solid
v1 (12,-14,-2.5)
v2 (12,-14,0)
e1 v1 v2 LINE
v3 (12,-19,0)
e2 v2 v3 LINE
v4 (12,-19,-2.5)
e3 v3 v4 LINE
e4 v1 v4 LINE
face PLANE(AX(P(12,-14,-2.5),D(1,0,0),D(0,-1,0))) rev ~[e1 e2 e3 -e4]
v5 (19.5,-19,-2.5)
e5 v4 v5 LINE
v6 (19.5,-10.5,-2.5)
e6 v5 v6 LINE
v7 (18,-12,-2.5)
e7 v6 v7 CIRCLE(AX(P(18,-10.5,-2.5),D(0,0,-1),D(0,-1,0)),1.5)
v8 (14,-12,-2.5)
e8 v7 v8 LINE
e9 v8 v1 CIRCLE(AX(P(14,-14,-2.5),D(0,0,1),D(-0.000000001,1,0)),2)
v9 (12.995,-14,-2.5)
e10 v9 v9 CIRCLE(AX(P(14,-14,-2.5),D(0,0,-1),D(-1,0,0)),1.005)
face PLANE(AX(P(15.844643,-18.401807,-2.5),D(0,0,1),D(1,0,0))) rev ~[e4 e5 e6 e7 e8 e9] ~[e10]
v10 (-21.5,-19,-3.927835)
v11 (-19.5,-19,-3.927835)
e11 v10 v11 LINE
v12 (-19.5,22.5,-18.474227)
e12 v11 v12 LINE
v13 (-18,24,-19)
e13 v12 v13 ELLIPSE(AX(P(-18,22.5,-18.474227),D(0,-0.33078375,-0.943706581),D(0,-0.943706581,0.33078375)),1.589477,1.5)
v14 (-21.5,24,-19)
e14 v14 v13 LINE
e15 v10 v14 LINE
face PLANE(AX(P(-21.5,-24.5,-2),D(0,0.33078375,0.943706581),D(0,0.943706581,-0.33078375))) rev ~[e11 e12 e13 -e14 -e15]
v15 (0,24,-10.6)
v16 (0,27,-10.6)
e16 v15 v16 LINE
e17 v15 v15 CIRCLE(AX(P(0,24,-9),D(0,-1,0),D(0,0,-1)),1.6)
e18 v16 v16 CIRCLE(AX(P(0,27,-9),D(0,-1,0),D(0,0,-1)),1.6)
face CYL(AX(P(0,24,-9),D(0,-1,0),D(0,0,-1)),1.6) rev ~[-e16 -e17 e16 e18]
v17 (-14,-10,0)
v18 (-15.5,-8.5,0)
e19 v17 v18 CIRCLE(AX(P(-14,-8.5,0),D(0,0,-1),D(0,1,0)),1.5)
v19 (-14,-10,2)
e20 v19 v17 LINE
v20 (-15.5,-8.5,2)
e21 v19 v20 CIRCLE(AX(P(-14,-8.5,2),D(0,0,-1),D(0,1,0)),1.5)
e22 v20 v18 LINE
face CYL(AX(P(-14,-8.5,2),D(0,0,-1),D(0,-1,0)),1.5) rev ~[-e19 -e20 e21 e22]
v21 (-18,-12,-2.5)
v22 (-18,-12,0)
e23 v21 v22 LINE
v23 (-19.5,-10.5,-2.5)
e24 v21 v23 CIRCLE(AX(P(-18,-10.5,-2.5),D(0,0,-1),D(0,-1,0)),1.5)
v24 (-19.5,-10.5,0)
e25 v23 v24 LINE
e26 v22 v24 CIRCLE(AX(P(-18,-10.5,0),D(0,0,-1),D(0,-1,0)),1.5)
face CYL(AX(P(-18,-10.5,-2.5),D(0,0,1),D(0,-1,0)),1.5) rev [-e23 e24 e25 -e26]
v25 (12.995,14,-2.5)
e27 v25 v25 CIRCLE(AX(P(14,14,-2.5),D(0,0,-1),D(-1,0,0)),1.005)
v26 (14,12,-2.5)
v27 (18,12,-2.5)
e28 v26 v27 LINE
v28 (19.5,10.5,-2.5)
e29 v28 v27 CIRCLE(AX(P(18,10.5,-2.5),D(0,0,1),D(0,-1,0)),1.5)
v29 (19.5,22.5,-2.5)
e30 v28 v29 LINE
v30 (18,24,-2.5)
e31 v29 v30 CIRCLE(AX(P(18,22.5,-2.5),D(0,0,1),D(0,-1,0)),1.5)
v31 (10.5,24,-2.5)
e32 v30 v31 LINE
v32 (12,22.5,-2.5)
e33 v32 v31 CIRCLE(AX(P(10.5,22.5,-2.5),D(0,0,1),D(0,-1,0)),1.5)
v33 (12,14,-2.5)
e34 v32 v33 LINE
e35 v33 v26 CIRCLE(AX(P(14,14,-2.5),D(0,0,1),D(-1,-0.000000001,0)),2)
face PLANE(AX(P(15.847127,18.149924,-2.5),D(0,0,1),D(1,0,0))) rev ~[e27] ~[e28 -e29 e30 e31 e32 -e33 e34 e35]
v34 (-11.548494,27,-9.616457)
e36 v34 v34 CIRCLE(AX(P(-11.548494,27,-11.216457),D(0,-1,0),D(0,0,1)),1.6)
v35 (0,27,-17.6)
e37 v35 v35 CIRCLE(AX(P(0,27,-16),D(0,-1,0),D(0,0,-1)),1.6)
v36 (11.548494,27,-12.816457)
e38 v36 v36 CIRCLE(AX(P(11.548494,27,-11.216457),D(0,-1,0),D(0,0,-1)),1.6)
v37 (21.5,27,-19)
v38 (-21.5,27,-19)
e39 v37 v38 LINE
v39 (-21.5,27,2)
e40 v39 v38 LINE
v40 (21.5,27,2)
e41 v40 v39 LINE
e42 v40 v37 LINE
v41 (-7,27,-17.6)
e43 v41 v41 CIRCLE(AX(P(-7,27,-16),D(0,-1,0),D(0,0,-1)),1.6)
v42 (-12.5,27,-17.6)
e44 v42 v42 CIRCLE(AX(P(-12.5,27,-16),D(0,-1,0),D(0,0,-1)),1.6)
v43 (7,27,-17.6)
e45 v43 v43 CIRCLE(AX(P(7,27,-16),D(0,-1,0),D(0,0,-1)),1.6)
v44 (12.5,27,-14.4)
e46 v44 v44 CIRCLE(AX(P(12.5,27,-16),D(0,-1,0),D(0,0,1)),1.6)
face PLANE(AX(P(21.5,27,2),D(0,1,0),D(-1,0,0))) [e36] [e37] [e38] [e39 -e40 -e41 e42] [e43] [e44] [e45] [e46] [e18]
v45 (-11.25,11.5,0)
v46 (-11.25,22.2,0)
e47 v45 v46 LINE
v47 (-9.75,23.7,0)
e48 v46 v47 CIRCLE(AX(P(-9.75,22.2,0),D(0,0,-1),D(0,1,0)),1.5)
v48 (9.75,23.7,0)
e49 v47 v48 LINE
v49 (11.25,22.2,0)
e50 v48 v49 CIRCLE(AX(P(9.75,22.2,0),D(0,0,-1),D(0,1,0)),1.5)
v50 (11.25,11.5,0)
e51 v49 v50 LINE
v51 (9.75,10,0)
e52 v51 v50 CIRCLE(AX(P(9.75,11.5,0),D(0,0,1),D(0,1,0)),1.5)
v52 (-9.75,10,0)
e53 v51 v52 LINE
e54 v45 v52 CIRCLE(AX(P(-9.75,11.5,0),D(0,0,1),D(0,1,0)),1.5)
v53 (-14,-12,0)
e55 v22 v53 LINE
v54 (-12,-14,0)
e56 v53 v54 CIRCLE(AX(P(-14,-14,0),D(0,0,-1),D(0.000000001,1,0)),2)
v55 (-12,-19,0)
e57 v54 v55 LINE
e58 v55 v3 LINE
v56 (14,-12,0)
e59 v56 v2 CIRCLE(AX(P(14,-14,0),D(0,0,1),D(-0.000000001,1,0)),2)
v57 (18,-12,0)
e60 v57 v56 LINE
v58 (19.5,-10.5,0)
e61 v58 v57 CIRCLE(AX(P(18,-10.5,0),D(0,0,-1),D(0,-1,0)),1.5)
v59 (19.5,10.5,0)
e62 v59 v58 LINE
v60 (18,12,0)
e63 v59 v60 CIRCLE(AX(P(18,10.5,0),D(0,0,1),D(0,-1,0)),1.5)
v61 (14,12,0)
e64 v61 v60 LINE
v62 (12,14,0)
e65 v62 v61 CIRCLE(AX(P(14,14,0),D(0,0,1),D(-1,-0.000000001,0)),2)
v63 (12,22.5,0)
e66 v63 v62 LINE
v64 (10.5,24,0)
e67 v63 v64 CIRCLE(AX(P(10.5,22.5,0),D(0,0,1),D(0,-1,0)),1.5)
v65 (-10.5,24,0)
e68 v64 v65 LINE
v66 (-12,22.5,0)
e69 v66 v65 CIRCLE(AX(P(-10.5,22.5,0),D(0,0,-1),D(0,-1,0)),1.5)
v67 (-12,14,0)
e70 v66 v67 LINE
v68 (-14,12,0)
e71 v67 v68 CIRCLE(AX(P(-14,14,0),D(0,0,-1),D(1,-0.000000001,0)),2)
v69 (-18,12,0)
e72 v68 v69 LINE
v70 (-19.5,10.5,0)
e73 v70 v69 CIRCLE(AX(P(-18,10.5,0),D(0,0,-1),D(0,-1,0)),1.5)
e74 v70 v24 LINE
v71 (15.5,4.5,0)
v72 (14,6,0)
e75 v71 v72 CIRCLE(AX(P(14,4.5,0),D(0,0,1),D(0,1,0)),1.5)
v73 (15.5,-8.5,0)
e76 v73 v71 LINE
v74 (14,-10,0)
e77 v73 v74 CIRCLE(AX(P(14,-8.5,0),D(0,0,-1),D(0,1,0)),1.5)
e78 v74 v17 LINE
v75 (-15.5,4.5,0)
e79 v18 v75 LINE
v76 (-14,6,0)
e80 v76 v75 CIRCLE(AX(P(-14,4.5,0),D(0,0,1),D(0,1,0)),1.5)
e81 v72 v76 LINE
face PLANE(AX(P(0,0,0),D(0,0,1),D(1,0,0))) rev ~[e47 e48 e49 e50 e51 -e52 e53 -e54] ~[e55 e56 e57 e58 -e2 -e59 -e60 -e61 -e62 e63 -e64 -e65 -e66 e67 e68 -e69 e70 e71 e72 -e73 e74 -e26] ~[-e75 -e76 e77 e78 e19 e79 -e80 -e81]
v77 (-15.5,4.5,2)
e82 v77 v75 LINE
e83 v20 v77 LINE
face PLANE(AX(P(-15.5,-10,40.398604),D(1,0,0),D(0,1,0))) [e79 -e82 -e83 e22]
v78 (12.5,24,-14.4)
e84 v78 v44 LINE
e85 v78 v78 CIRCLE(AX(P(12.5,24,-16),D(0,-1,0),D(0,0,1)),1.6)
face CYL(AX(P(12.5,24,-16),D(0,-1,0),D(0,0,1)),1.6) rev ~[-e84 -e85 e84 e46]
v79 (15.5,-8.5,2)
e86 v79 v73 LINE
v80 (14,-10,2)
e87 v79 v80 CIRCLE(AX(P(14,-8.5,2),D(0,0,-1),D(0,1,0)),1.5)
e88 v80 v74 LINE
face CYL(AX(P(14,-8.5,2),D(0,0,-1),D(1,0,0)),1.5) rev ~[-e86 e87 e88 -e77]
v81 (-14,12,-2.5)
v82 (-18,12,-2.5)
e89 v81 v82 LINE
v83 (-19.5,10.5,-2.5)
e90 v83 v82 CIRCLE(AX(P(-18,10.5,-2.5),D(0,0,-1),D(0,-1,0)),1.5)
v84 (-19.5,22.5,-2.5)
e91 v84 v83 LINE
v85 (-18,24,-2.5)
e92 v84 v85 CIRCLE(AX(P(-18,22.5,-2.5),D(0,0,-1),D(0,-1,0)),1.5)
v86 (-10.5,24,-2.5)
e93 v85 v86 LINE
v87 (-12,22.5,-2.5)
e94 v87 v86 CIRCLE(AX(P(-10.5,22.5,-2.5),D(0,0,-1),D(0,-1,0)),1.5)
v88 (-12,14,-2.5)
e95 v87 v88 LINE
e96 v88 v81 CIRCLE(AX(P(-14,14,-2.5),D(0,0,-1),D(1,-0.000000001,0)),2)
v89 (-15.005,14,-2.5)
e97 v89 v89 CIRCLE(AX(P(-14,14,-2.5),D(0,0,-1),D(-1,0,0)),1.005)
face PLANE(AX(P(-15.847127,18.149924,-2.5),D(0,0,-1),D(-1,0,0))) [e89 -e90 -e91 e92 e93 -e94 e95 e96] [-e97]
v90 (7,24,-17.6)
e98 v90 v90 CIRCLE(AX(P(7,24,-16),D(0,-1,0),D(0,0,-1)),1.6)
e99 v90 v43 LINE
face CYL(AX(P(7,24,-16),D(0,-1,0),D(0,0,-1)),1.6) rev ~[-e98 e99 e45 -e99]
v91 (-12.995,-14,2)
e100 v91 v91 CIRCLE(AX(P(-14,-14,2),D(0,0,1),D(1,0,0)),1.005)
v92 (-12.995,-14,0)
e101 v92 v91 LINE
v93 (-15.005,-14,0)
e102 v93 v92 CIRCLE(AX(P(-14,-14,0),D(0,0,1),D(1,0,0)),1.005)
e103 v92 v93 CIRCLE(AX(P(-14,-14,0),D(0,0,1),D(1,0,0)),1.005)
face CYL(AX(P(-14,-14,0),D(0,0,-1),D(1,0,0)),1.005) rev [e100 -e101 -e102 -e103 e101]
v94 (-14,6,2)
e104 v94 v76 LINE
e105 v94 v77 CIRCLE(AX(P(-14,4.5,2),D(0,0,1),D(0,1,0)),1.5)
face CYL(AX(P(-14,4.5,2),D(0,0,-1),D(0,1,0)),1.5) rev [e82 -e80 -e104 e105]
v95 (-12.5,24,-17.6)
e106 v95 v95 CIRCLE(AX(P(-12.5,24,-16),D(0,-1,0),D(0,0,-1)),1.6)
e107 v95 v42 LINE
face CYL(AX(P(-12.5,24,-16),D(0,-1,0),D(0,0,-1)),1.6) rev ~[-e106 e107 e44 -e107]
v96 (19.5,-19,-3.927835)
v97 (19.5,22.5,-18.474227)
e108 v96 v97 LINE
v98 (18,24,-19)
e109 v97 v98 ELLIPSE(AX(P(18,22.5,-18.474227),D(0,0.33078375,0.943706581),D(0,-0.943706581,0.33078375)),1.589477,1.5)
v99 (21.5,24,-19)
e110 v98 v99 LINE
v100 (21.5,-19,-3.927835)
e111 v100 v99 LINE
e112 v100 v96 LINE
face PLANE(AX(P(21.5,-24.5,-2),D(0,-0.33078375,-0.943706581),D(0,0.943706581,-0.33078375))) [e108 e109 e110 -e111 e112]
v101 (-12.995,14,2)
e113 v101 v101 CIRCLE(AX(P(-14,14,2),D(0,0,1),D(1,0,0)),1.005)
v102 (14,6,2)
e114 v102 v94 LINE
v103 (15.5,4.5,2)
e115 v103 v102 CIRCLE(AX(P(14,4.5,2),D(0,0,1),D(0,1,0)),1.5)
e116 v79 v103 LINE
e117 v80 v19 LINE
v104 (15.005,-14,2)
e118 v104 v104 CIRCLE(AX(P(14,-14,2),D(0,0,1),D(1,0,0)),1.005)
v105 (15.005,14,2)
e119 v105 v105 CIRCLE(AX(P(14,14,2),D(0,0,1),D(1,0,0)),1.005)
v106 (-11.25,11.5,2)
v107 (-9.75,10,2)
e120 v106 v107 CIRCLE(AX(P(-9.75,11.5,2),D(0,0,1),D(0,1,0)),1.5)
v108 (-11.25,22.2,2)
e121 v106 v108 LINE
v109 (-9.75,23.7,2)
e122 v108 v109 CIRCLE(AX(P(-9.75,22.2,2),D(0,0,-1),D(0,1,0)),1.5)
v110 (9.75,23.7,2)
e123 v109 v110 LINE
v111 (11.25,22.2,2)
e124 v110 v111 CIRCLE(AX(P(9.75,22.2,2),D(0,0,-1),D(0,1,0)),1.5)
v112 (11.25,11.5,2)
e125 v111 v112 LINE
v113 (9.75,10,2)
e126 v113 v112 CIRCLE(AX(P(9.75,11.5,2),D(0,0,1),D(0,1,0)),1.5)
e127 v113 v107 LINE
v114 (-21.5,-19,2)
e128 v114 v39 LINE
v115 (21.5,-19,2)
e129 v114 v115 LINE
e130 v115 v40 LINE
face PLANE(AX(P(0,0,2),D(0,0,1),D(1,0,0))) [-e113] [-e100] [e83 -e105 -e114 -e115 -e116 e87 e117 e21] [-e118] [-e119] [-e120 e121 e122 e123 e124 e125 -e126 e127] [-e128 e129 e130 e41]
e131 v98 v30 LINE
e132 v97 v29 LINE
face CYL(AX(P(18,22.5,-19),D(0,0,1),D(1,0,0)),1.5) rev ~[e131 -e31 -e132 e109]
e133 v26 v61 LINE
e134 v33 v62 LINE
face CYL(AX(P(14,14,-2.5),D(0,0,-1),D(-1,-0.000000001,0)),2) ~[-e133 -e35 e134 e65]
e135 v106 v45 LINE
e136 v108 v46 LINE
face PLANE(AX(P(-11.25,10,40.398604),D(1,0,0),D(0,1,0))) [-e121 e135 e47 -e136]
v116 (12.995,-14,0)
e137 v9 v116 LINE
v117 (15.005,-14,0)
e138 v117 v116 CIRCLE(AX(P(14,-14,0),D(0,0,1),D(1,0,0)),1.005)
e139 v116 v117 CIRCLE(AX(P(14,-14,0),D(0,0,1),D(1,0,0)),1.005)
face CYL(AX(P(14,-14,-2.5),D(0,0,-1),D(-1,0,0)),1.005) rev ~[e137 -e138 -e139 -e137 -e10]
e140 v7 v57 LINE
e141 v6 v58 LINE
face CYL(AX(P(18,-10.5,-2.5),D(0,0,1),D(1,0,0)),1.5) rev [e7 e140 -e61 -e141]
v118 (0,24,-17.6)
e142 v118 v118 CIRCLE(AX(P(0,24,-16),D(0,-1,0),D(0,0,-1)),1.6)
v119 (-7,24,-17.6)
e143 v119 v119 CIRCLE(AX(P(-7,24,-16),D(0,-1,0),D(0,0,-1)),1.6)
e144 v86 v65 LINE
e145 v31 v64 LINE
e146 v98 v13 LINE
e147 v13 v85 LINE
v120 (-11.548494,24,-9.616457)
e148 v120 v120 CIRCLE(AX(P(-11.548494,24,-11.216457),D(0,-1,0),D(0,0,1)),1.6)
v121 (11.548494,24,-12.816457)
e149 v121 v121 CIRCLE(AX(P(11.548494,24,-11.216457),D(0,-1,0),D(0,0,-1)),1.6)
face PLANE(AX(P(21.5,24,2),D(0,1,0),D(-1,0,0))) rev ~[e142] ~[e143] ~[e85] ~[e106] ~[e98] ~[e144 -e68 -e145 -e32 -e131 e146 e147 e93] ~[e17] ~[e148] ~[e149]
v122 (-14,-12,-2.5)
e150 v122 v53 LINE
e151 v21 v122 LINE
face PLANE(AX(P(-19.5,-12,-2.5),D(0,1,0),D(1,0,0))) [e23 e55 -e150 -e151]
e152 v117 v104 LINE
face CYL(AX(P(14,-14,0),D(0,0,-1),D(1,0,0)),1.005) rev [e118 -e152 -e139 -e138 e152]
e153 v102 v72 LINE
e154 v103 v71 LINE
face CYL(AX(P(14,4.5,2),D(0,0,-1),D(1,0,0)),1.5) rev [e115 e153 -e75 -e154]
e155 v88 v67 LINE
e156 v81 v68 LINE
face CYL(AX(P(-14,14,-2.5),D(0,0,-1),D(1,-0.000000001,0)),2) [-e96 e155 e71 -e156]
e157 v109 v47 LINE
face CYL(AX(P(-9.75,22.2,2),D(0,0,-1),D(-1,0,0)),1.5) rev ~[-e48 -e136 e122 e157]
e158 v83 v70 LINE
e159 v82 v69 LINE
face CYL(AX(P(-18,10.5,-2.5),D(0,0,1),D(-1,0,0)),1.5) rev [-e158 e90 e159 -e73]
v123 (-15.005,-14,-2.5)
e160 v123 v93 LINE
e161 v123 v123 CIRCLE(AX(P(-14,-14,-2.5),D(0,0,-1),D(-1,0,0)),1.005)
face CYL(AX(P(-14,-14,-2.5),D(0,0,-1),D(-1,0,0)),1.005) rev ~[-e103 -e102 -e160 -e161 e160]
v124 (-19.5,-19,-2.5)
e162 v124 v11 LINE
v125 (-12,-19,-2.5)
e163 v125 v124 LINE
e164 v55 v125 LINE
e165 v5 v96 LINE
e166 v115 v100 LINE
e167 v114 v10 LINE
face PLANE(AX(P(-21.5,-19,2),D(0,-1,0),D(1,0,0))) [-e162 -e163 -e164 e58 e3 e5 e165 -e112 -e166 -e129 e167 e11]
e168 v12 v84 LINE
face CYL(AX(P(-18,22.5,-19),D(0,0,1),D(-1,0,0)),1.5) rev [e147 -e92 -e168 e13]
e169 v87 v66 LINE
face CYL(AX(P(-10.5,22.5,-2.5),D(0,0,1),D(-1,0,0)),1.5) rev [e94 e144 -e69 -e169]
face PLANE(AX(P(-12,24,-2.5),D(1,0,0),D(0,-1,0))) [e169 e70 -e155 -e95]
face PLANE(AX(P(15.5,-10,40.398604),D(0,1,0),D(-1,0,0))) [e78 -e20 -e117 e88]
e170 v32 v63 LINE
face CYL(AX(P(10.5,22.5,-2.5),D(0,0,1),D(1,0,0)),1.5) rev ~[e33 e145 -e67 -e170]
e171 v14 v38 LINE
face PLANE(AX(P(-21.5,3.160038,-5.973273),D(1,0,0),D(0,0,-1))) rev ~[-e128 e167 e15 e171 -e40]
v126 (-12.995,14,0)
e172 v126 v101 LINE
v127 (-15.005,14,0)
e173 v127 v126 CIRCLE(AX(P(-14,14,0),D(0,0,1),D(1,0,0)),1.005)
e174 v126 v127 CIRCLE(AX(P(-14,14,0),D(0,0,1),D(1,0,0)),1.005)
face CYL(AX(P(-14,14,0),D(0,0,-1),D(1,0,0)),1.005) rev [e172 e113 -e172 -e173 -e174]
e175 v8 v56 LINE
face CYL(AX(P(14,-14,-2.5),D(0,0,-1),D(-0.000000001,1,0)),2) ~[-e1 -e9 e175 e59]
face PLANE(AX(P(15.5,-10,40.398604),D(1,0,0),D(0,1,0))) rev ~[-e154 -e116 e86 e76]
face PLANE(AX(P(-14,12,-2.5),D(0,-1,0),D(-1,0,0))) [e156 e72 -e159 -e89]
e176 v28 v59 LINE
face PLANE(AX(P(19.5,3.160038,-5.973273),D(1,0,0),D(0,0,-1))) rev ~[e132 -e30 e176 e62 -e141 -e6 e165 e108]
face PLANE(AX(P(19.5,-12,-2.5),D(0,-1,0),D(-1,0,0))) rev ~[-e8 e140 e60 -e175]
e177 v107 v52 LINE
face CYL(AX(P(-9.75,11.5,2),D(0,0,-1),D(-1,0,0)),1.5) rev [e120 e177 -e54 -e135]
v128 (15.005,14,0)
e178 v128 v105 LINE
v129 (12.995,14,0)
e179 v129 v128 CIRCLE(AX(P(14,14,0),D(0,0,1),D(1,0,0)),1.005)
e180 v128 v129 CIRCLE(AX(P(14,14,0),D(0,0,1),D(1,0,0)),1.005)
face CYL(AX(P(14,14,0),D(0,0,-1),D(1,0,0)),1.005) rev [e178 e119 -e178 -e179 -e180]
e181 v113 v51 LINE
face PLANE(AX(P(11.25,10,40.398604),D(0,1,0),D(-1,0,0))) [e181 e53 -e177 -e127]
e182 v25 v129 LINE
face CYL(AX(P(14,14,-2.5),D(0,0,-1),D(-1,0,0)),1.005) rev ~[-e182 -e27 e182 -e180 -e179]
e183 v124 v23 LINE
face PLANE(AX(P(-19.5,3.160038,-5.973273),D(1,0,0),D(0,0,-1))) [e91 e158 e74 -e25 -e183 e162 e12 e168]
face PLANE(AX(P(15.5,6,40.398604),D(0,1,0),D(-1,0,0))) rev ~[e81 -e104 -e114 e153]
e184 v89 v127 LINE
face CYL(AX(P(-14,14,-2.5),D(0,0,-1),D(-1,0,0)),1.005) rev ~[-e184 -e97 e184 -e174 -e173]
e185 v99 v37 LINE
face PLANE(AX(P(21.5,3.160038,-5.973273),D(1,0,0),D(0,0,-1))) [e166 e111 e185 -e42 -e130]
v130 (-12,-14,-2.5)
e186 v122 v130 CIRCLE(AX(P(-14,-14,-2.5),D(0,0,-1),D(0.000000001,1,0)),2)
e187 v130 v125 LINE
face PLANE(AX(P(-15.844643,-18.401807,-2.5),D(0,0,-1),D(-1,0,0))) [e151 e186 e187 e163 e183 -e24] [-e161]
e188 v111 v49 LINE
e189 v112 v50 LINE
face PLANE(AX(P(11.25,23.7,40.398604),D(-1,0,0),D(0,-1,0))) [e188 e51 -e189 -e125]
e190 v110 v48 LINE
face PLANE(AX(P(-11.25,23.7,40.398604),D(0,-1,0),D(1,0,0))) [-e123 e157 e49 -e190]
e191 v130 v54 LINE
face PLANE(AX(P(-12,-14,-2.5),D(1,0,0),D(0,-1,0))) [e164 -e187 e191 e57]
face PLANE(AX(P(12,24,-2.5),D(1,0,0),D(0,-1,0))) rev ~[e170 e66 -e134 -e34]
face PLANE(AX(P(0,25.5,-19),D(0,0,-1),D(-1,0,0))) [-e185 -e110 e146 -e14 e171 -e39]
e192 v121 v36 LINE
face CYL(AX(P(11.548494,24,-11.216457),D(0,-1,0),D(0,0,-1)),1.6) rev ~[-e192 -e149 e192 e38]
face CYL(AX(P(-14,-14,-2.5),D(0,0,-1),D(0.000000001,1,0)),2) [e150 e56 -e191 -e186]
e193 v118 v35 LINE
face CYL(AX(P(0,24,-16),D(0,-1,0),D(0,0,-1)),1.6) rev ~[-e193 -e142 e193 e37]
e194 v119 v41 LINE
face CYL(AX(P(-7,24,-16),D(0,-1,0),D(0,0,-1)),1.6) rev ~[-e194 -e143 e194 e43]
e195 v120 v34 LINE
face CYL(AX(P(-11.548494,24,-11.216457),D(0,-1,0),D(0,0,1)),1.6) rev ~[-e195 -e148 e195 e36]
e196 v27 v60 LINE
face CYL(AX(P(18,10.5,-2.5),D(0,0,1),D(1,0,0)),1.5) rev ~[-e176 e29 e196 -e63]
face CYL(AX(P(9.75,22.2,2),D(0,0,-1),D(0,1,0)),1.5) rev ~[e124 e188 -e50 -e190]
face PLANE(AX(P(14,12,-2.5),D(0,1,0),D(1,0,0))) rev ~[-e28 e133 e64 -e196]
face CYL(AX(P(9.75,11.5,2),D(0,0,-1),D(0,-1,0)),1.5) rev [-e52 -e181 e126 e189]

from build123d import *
from build123d.topology import SkipClean

# Parameters (mm, degrees)
SKETCH_1_W               = 43
SKETCH_1_H               = 49
SKETCH_1_R               = 1.005
EXTRUDE_1_DEPTH          = 2
EXTRUDE_2_DEPTH          = 19
EXTRUDE_2_DEPTH_BACK     = 2
SKETCH_2_W               = 43
SKETCH_2_H               = 3
EXTRUDE_START            = -21.5
EXTRUDE_3_DEPTH          = 2
EXTRUDE_START_2          = 21.5
EXTRUDE_5_DEPTH          = 2
SKETCH_5_R               = 1.6
CUT_EXTRUDE_1_DEPTH      = 57.351574956
CUT_EXTRUDE_3_DEPTH      = 40.398604036
CUT_EXTRUDE_3_DEPTH_BACK = 40.398604036
SKETCH_8_W               = 31
SKETCH_8_H               = 16
EXTRUDE_START_3          = 2.5
SKETCH_12_R              = 1.005
EXTRUDE_6_DEPTH          = 2.5
SKETCH_13_W              = 43
SKETCH_13_H              = 5.5
CUT_EXTRUDE_4_DEPTH      = 41.401113846
FILLET_1_R               = 1.5


with BuildPart() as part:
    # 草图1 → 凸台-拉伸1 (new body)
    with BuildSketch(Plane.XY):
        Rectangle(SKETCH_1_W, SKETCH_1_H)
        with Locations((-14, 14)):
            Circle(SKETCH_1_R, mode=Mode.SUBTRACT)
        with Locations((14, 14)):
            Circle(SKETCH_1_R, mode=Mode.SUBTRACT)
        with Locations((14, -14)):
            Circle(SKETCH_1_R, mode=Mode.SUBTRACT)
        with Locations((-14, -14)):
            Circle(SKETCH_1_R, mode=Mode.SUBTRACT)
    extrude(amount=EXTRUDE_1_DEPTH)

    # 草图2 → 凸台-拉伸2 (add, two sides: drawn at the far end of the back side and taken through both)
    with BuildSketch(Plane(origin=(0, 0, 0), x_dir=(-1, 0, 0), z_dir=(0, 0, -1)).offset(-EXTRUDE_2_DEPTH_BACK)):
        with Locations((0, 25.5)):
            Rectangle(SKETCH_2_W, SKETCH_2_H)
    extrude(amount=EXTRUDE_2_DEPTH + EXTRUDE_2_DEPTH_BACK)

    # 草图4 → 凸台-拉伸3 (add)
    with BuildSketch(Plane(origin=(0, 0, 0), x_dir=(0, 0, -1), z_dir=(1, 0, 0)).offset(EXTRUDE_START)):
        Polygon((19, 24), (0, 24), (0, -24.5), (2, -24.5), align=None)
    extrude(amount=EXTRUDE_3_DEPTH)

    # 草图4<2> → 凸台-拉伸5 (add)
    with BuildSketch(Plane(origin=(0, 0, 0), x_dir=(0, 0, -1), z_dir=(1, 0, 0)).offset(EXTRUDE_START_2)):
        Polygon((19, 24), (0, 24), (0, -24.5), (2, -24.5), align=None)
    extrude(amount=-EXTRUDE_5_DEPTH)

    # 草图5 → 切除-拉伸1 (cut, through all)
    with BuildSketch(Plane.XZ.offset(-24)):
        with Locations(Location((-12.5, -16, 0), (0, 0, 270))):
            Circle(SKETCH_5_R)
        with Locations(Location((12.5, -16, 0), (0, 0, 90))):
            Circle(SKETCH_5_R)
        with Locations(Location((11.548494156, -11.216457095, 0), (0, 0, 270))):
            Circle(SKETCH_5_R)
        with Locations(Location((-11.548494156, -11.216457095, 0), (0, 0, 90))):
            Circle(SKETCH_5_R)
        with Locations(Location((-7, -16, 0), (0, 0, 270))):
            Circle(SKETCH_5_R)
        with Locations(Location((7, -16, 0), (0, 0, 270))):
            Circle(SKETCH_5_R)
        with Locations(Location((0, -16, 0), (0, 0, 270))):
            Circle(SKETCH_5_R)
        with Locations(Location((0, -9, 0), (0, 0, 270))):
            Circle(SKETCH_5_R)
    extrude(amount=-CUT_EXTRUDE_1_DEPTH, mode=Mode.SUBTRACT)

    # 草图8 → 切除-拉伸3 (cut, two sides: drawn at the far end of the back side and taken through both)
    with BuildSketch(Plane(origin=(0, 0, 0), x_dir=(-1, 0, 0), z_dir=(0, 0, -1)).offset(-CUT_EXTRUDE_3_DEPTH_BACK)):
        Polygon((11.25, 20), (11.25, 23.7), (-0.75, 23.7), (-11.25, 23.7), (-11.25, 10), (11.25, 10), align=None)
        with Locations((0, -2)):
            Rectangle(SKETCH_8_W, SKETCH_8_H)
    extrude(amount=CUT_EXTRUDE_3_DEPTH + CUT_EXTRUDE_3_DEPTH_BACK, mode=Mode.SUBTRACT)

    # 草图12 → 凸台-拉伸6 (add)
    # profile 1 of 4: a face of its own
    with SkipClean():  # the faces are left unmerged after this step: merging them gives an invalid solid
        with BuildSketch(Plane(origin=(0, 0, 0), x_dir=(-1, 0, 0), z_dir=(0, 0, -1)).offset(EXTRUDE_START_3)):
            with BuildLine():
                Line((12, -14), (12, -24.5))
                Line((12, -24.5), (19.5, -24.5))
                Line((19.5, -24.5), (19.5, -12))
                Line((19.5, -12), (14, -12))
                ThreePointArc((14, -12), (12.585786438, -12.585786438), (12, -14))
            make_face()
            with Locations((14, -14)):
                Circle(SKETCH_12_R, mode=Mode.SUBTRACT)
        # profile 2 of 4: a face of its own
        with BuildSketch(Plane(origin=(0, 0, 0), x_dir=(-1, 0, 0), z_dir=(0, 0, -1)).offset(EXTRUDE_START_3)):
            with BuildLine():
                Line((-19.5, -12), (-14, -12))
                ThreePointArc((-14, -12), (-12.585786438, -12.585786438), (-12, -14))
                Line((-12, -14), (-12, -24.5))
                Line((-12, -24.5), (-19.5, -24.5))
                Line((-19.5, -24.5), (-19.5, -12))
            make_face()
            with Locations((-14, -14)):
                Circle(SKETCH_12_R, mode=Mode.SUBTRACT)
        # profile 3 of 4: a face of its own
        with BuildSketch(Plane(origin=(0, 0, 0), x_dir=(-1, 0, 0), z_dir=(0, 0, -1)).offset(EXTRUDE_START_3)):
            with BuildLine():
                Line((14, 12), (19.5, 12))
                Line((19.5, 12), (19.5, 24))
                Line((19.5, 24), (12, 24))
                Line((12, 24), (12, 14))
                ThreePointArc((12, 14), (12.585786438, 12.585786438), (14, 12))
            make_face()
            with Locations((14, 14)):
                Circle(SKETCH_12_R, mode=Mode.SUBTRACT)
        # profile 4 of 4: a face of its own
        with BuildSketch(Plane(origin=(0, 0, 0), x_dir=(-1, 0, 0), z_dir=(0, 0, -1)).offset(EXTRUDE_START_3)):
            with BuildLine():
                Line((-12, 24), (-12, 14))
                ThreePointArc((-12, 14), (-12.585786438, 12.585786438), (-14, 12))
                Line((-14, 12), (-19.5, 12))
                Line((-19.5, 12), (-19.5, 24))
                Line((-19.5, 24), (-12, 24))
            make_face()
            with Locations((-14, 14)):
                Circle(SKETCH_12_R, mode=Mode.SUBTRACT)
        extrude(amount=-EXTRUDE_6_DEPTH)

    # 草图13 → 切除-拉伸4 (cut, through all)
    with SkipClean():  # the faces are left unmerged after this step: merging them gives an invalid solid
        with BuildSketch(Plane.XY.offset(2)):
            with Locations((0, -21.75)):
                Rectangle(SKETCH_13_W, SKETCH_13_H)
        extrude(amount=-CUT_EXTRUDE_4_DEPTH, mode=Mode.SUBTRACT)

    # 圆角1
    fillet_1_edges = [part.edges().sort_by_distance(p)[0] for p in [
        (11.25, 10, 1),
        (11.25, 23.7, 1),
        (-11.25, 23.7, 1),
        (-11.25, 10, 1),
        (-15.5, 6, 1),
        (-15.5, -10, 1),
        (15.5, -10, 1),
        (15.5, 6, 1),
        (-19.5, -12, -1.25),
        (19.5, -12, -1.25),
        (-19.5, 12, -1.25),
        (-12, 24, -1.25),
        (12, 24, -1.25),
        (19.5, 12, -1.25),
        (-19.5, 24, -10.75),
        (19.5, 24, -10.75),
    ]]
    fillet(fillet_1_edges, radius=FILLET_1_R)


solid = part.part
